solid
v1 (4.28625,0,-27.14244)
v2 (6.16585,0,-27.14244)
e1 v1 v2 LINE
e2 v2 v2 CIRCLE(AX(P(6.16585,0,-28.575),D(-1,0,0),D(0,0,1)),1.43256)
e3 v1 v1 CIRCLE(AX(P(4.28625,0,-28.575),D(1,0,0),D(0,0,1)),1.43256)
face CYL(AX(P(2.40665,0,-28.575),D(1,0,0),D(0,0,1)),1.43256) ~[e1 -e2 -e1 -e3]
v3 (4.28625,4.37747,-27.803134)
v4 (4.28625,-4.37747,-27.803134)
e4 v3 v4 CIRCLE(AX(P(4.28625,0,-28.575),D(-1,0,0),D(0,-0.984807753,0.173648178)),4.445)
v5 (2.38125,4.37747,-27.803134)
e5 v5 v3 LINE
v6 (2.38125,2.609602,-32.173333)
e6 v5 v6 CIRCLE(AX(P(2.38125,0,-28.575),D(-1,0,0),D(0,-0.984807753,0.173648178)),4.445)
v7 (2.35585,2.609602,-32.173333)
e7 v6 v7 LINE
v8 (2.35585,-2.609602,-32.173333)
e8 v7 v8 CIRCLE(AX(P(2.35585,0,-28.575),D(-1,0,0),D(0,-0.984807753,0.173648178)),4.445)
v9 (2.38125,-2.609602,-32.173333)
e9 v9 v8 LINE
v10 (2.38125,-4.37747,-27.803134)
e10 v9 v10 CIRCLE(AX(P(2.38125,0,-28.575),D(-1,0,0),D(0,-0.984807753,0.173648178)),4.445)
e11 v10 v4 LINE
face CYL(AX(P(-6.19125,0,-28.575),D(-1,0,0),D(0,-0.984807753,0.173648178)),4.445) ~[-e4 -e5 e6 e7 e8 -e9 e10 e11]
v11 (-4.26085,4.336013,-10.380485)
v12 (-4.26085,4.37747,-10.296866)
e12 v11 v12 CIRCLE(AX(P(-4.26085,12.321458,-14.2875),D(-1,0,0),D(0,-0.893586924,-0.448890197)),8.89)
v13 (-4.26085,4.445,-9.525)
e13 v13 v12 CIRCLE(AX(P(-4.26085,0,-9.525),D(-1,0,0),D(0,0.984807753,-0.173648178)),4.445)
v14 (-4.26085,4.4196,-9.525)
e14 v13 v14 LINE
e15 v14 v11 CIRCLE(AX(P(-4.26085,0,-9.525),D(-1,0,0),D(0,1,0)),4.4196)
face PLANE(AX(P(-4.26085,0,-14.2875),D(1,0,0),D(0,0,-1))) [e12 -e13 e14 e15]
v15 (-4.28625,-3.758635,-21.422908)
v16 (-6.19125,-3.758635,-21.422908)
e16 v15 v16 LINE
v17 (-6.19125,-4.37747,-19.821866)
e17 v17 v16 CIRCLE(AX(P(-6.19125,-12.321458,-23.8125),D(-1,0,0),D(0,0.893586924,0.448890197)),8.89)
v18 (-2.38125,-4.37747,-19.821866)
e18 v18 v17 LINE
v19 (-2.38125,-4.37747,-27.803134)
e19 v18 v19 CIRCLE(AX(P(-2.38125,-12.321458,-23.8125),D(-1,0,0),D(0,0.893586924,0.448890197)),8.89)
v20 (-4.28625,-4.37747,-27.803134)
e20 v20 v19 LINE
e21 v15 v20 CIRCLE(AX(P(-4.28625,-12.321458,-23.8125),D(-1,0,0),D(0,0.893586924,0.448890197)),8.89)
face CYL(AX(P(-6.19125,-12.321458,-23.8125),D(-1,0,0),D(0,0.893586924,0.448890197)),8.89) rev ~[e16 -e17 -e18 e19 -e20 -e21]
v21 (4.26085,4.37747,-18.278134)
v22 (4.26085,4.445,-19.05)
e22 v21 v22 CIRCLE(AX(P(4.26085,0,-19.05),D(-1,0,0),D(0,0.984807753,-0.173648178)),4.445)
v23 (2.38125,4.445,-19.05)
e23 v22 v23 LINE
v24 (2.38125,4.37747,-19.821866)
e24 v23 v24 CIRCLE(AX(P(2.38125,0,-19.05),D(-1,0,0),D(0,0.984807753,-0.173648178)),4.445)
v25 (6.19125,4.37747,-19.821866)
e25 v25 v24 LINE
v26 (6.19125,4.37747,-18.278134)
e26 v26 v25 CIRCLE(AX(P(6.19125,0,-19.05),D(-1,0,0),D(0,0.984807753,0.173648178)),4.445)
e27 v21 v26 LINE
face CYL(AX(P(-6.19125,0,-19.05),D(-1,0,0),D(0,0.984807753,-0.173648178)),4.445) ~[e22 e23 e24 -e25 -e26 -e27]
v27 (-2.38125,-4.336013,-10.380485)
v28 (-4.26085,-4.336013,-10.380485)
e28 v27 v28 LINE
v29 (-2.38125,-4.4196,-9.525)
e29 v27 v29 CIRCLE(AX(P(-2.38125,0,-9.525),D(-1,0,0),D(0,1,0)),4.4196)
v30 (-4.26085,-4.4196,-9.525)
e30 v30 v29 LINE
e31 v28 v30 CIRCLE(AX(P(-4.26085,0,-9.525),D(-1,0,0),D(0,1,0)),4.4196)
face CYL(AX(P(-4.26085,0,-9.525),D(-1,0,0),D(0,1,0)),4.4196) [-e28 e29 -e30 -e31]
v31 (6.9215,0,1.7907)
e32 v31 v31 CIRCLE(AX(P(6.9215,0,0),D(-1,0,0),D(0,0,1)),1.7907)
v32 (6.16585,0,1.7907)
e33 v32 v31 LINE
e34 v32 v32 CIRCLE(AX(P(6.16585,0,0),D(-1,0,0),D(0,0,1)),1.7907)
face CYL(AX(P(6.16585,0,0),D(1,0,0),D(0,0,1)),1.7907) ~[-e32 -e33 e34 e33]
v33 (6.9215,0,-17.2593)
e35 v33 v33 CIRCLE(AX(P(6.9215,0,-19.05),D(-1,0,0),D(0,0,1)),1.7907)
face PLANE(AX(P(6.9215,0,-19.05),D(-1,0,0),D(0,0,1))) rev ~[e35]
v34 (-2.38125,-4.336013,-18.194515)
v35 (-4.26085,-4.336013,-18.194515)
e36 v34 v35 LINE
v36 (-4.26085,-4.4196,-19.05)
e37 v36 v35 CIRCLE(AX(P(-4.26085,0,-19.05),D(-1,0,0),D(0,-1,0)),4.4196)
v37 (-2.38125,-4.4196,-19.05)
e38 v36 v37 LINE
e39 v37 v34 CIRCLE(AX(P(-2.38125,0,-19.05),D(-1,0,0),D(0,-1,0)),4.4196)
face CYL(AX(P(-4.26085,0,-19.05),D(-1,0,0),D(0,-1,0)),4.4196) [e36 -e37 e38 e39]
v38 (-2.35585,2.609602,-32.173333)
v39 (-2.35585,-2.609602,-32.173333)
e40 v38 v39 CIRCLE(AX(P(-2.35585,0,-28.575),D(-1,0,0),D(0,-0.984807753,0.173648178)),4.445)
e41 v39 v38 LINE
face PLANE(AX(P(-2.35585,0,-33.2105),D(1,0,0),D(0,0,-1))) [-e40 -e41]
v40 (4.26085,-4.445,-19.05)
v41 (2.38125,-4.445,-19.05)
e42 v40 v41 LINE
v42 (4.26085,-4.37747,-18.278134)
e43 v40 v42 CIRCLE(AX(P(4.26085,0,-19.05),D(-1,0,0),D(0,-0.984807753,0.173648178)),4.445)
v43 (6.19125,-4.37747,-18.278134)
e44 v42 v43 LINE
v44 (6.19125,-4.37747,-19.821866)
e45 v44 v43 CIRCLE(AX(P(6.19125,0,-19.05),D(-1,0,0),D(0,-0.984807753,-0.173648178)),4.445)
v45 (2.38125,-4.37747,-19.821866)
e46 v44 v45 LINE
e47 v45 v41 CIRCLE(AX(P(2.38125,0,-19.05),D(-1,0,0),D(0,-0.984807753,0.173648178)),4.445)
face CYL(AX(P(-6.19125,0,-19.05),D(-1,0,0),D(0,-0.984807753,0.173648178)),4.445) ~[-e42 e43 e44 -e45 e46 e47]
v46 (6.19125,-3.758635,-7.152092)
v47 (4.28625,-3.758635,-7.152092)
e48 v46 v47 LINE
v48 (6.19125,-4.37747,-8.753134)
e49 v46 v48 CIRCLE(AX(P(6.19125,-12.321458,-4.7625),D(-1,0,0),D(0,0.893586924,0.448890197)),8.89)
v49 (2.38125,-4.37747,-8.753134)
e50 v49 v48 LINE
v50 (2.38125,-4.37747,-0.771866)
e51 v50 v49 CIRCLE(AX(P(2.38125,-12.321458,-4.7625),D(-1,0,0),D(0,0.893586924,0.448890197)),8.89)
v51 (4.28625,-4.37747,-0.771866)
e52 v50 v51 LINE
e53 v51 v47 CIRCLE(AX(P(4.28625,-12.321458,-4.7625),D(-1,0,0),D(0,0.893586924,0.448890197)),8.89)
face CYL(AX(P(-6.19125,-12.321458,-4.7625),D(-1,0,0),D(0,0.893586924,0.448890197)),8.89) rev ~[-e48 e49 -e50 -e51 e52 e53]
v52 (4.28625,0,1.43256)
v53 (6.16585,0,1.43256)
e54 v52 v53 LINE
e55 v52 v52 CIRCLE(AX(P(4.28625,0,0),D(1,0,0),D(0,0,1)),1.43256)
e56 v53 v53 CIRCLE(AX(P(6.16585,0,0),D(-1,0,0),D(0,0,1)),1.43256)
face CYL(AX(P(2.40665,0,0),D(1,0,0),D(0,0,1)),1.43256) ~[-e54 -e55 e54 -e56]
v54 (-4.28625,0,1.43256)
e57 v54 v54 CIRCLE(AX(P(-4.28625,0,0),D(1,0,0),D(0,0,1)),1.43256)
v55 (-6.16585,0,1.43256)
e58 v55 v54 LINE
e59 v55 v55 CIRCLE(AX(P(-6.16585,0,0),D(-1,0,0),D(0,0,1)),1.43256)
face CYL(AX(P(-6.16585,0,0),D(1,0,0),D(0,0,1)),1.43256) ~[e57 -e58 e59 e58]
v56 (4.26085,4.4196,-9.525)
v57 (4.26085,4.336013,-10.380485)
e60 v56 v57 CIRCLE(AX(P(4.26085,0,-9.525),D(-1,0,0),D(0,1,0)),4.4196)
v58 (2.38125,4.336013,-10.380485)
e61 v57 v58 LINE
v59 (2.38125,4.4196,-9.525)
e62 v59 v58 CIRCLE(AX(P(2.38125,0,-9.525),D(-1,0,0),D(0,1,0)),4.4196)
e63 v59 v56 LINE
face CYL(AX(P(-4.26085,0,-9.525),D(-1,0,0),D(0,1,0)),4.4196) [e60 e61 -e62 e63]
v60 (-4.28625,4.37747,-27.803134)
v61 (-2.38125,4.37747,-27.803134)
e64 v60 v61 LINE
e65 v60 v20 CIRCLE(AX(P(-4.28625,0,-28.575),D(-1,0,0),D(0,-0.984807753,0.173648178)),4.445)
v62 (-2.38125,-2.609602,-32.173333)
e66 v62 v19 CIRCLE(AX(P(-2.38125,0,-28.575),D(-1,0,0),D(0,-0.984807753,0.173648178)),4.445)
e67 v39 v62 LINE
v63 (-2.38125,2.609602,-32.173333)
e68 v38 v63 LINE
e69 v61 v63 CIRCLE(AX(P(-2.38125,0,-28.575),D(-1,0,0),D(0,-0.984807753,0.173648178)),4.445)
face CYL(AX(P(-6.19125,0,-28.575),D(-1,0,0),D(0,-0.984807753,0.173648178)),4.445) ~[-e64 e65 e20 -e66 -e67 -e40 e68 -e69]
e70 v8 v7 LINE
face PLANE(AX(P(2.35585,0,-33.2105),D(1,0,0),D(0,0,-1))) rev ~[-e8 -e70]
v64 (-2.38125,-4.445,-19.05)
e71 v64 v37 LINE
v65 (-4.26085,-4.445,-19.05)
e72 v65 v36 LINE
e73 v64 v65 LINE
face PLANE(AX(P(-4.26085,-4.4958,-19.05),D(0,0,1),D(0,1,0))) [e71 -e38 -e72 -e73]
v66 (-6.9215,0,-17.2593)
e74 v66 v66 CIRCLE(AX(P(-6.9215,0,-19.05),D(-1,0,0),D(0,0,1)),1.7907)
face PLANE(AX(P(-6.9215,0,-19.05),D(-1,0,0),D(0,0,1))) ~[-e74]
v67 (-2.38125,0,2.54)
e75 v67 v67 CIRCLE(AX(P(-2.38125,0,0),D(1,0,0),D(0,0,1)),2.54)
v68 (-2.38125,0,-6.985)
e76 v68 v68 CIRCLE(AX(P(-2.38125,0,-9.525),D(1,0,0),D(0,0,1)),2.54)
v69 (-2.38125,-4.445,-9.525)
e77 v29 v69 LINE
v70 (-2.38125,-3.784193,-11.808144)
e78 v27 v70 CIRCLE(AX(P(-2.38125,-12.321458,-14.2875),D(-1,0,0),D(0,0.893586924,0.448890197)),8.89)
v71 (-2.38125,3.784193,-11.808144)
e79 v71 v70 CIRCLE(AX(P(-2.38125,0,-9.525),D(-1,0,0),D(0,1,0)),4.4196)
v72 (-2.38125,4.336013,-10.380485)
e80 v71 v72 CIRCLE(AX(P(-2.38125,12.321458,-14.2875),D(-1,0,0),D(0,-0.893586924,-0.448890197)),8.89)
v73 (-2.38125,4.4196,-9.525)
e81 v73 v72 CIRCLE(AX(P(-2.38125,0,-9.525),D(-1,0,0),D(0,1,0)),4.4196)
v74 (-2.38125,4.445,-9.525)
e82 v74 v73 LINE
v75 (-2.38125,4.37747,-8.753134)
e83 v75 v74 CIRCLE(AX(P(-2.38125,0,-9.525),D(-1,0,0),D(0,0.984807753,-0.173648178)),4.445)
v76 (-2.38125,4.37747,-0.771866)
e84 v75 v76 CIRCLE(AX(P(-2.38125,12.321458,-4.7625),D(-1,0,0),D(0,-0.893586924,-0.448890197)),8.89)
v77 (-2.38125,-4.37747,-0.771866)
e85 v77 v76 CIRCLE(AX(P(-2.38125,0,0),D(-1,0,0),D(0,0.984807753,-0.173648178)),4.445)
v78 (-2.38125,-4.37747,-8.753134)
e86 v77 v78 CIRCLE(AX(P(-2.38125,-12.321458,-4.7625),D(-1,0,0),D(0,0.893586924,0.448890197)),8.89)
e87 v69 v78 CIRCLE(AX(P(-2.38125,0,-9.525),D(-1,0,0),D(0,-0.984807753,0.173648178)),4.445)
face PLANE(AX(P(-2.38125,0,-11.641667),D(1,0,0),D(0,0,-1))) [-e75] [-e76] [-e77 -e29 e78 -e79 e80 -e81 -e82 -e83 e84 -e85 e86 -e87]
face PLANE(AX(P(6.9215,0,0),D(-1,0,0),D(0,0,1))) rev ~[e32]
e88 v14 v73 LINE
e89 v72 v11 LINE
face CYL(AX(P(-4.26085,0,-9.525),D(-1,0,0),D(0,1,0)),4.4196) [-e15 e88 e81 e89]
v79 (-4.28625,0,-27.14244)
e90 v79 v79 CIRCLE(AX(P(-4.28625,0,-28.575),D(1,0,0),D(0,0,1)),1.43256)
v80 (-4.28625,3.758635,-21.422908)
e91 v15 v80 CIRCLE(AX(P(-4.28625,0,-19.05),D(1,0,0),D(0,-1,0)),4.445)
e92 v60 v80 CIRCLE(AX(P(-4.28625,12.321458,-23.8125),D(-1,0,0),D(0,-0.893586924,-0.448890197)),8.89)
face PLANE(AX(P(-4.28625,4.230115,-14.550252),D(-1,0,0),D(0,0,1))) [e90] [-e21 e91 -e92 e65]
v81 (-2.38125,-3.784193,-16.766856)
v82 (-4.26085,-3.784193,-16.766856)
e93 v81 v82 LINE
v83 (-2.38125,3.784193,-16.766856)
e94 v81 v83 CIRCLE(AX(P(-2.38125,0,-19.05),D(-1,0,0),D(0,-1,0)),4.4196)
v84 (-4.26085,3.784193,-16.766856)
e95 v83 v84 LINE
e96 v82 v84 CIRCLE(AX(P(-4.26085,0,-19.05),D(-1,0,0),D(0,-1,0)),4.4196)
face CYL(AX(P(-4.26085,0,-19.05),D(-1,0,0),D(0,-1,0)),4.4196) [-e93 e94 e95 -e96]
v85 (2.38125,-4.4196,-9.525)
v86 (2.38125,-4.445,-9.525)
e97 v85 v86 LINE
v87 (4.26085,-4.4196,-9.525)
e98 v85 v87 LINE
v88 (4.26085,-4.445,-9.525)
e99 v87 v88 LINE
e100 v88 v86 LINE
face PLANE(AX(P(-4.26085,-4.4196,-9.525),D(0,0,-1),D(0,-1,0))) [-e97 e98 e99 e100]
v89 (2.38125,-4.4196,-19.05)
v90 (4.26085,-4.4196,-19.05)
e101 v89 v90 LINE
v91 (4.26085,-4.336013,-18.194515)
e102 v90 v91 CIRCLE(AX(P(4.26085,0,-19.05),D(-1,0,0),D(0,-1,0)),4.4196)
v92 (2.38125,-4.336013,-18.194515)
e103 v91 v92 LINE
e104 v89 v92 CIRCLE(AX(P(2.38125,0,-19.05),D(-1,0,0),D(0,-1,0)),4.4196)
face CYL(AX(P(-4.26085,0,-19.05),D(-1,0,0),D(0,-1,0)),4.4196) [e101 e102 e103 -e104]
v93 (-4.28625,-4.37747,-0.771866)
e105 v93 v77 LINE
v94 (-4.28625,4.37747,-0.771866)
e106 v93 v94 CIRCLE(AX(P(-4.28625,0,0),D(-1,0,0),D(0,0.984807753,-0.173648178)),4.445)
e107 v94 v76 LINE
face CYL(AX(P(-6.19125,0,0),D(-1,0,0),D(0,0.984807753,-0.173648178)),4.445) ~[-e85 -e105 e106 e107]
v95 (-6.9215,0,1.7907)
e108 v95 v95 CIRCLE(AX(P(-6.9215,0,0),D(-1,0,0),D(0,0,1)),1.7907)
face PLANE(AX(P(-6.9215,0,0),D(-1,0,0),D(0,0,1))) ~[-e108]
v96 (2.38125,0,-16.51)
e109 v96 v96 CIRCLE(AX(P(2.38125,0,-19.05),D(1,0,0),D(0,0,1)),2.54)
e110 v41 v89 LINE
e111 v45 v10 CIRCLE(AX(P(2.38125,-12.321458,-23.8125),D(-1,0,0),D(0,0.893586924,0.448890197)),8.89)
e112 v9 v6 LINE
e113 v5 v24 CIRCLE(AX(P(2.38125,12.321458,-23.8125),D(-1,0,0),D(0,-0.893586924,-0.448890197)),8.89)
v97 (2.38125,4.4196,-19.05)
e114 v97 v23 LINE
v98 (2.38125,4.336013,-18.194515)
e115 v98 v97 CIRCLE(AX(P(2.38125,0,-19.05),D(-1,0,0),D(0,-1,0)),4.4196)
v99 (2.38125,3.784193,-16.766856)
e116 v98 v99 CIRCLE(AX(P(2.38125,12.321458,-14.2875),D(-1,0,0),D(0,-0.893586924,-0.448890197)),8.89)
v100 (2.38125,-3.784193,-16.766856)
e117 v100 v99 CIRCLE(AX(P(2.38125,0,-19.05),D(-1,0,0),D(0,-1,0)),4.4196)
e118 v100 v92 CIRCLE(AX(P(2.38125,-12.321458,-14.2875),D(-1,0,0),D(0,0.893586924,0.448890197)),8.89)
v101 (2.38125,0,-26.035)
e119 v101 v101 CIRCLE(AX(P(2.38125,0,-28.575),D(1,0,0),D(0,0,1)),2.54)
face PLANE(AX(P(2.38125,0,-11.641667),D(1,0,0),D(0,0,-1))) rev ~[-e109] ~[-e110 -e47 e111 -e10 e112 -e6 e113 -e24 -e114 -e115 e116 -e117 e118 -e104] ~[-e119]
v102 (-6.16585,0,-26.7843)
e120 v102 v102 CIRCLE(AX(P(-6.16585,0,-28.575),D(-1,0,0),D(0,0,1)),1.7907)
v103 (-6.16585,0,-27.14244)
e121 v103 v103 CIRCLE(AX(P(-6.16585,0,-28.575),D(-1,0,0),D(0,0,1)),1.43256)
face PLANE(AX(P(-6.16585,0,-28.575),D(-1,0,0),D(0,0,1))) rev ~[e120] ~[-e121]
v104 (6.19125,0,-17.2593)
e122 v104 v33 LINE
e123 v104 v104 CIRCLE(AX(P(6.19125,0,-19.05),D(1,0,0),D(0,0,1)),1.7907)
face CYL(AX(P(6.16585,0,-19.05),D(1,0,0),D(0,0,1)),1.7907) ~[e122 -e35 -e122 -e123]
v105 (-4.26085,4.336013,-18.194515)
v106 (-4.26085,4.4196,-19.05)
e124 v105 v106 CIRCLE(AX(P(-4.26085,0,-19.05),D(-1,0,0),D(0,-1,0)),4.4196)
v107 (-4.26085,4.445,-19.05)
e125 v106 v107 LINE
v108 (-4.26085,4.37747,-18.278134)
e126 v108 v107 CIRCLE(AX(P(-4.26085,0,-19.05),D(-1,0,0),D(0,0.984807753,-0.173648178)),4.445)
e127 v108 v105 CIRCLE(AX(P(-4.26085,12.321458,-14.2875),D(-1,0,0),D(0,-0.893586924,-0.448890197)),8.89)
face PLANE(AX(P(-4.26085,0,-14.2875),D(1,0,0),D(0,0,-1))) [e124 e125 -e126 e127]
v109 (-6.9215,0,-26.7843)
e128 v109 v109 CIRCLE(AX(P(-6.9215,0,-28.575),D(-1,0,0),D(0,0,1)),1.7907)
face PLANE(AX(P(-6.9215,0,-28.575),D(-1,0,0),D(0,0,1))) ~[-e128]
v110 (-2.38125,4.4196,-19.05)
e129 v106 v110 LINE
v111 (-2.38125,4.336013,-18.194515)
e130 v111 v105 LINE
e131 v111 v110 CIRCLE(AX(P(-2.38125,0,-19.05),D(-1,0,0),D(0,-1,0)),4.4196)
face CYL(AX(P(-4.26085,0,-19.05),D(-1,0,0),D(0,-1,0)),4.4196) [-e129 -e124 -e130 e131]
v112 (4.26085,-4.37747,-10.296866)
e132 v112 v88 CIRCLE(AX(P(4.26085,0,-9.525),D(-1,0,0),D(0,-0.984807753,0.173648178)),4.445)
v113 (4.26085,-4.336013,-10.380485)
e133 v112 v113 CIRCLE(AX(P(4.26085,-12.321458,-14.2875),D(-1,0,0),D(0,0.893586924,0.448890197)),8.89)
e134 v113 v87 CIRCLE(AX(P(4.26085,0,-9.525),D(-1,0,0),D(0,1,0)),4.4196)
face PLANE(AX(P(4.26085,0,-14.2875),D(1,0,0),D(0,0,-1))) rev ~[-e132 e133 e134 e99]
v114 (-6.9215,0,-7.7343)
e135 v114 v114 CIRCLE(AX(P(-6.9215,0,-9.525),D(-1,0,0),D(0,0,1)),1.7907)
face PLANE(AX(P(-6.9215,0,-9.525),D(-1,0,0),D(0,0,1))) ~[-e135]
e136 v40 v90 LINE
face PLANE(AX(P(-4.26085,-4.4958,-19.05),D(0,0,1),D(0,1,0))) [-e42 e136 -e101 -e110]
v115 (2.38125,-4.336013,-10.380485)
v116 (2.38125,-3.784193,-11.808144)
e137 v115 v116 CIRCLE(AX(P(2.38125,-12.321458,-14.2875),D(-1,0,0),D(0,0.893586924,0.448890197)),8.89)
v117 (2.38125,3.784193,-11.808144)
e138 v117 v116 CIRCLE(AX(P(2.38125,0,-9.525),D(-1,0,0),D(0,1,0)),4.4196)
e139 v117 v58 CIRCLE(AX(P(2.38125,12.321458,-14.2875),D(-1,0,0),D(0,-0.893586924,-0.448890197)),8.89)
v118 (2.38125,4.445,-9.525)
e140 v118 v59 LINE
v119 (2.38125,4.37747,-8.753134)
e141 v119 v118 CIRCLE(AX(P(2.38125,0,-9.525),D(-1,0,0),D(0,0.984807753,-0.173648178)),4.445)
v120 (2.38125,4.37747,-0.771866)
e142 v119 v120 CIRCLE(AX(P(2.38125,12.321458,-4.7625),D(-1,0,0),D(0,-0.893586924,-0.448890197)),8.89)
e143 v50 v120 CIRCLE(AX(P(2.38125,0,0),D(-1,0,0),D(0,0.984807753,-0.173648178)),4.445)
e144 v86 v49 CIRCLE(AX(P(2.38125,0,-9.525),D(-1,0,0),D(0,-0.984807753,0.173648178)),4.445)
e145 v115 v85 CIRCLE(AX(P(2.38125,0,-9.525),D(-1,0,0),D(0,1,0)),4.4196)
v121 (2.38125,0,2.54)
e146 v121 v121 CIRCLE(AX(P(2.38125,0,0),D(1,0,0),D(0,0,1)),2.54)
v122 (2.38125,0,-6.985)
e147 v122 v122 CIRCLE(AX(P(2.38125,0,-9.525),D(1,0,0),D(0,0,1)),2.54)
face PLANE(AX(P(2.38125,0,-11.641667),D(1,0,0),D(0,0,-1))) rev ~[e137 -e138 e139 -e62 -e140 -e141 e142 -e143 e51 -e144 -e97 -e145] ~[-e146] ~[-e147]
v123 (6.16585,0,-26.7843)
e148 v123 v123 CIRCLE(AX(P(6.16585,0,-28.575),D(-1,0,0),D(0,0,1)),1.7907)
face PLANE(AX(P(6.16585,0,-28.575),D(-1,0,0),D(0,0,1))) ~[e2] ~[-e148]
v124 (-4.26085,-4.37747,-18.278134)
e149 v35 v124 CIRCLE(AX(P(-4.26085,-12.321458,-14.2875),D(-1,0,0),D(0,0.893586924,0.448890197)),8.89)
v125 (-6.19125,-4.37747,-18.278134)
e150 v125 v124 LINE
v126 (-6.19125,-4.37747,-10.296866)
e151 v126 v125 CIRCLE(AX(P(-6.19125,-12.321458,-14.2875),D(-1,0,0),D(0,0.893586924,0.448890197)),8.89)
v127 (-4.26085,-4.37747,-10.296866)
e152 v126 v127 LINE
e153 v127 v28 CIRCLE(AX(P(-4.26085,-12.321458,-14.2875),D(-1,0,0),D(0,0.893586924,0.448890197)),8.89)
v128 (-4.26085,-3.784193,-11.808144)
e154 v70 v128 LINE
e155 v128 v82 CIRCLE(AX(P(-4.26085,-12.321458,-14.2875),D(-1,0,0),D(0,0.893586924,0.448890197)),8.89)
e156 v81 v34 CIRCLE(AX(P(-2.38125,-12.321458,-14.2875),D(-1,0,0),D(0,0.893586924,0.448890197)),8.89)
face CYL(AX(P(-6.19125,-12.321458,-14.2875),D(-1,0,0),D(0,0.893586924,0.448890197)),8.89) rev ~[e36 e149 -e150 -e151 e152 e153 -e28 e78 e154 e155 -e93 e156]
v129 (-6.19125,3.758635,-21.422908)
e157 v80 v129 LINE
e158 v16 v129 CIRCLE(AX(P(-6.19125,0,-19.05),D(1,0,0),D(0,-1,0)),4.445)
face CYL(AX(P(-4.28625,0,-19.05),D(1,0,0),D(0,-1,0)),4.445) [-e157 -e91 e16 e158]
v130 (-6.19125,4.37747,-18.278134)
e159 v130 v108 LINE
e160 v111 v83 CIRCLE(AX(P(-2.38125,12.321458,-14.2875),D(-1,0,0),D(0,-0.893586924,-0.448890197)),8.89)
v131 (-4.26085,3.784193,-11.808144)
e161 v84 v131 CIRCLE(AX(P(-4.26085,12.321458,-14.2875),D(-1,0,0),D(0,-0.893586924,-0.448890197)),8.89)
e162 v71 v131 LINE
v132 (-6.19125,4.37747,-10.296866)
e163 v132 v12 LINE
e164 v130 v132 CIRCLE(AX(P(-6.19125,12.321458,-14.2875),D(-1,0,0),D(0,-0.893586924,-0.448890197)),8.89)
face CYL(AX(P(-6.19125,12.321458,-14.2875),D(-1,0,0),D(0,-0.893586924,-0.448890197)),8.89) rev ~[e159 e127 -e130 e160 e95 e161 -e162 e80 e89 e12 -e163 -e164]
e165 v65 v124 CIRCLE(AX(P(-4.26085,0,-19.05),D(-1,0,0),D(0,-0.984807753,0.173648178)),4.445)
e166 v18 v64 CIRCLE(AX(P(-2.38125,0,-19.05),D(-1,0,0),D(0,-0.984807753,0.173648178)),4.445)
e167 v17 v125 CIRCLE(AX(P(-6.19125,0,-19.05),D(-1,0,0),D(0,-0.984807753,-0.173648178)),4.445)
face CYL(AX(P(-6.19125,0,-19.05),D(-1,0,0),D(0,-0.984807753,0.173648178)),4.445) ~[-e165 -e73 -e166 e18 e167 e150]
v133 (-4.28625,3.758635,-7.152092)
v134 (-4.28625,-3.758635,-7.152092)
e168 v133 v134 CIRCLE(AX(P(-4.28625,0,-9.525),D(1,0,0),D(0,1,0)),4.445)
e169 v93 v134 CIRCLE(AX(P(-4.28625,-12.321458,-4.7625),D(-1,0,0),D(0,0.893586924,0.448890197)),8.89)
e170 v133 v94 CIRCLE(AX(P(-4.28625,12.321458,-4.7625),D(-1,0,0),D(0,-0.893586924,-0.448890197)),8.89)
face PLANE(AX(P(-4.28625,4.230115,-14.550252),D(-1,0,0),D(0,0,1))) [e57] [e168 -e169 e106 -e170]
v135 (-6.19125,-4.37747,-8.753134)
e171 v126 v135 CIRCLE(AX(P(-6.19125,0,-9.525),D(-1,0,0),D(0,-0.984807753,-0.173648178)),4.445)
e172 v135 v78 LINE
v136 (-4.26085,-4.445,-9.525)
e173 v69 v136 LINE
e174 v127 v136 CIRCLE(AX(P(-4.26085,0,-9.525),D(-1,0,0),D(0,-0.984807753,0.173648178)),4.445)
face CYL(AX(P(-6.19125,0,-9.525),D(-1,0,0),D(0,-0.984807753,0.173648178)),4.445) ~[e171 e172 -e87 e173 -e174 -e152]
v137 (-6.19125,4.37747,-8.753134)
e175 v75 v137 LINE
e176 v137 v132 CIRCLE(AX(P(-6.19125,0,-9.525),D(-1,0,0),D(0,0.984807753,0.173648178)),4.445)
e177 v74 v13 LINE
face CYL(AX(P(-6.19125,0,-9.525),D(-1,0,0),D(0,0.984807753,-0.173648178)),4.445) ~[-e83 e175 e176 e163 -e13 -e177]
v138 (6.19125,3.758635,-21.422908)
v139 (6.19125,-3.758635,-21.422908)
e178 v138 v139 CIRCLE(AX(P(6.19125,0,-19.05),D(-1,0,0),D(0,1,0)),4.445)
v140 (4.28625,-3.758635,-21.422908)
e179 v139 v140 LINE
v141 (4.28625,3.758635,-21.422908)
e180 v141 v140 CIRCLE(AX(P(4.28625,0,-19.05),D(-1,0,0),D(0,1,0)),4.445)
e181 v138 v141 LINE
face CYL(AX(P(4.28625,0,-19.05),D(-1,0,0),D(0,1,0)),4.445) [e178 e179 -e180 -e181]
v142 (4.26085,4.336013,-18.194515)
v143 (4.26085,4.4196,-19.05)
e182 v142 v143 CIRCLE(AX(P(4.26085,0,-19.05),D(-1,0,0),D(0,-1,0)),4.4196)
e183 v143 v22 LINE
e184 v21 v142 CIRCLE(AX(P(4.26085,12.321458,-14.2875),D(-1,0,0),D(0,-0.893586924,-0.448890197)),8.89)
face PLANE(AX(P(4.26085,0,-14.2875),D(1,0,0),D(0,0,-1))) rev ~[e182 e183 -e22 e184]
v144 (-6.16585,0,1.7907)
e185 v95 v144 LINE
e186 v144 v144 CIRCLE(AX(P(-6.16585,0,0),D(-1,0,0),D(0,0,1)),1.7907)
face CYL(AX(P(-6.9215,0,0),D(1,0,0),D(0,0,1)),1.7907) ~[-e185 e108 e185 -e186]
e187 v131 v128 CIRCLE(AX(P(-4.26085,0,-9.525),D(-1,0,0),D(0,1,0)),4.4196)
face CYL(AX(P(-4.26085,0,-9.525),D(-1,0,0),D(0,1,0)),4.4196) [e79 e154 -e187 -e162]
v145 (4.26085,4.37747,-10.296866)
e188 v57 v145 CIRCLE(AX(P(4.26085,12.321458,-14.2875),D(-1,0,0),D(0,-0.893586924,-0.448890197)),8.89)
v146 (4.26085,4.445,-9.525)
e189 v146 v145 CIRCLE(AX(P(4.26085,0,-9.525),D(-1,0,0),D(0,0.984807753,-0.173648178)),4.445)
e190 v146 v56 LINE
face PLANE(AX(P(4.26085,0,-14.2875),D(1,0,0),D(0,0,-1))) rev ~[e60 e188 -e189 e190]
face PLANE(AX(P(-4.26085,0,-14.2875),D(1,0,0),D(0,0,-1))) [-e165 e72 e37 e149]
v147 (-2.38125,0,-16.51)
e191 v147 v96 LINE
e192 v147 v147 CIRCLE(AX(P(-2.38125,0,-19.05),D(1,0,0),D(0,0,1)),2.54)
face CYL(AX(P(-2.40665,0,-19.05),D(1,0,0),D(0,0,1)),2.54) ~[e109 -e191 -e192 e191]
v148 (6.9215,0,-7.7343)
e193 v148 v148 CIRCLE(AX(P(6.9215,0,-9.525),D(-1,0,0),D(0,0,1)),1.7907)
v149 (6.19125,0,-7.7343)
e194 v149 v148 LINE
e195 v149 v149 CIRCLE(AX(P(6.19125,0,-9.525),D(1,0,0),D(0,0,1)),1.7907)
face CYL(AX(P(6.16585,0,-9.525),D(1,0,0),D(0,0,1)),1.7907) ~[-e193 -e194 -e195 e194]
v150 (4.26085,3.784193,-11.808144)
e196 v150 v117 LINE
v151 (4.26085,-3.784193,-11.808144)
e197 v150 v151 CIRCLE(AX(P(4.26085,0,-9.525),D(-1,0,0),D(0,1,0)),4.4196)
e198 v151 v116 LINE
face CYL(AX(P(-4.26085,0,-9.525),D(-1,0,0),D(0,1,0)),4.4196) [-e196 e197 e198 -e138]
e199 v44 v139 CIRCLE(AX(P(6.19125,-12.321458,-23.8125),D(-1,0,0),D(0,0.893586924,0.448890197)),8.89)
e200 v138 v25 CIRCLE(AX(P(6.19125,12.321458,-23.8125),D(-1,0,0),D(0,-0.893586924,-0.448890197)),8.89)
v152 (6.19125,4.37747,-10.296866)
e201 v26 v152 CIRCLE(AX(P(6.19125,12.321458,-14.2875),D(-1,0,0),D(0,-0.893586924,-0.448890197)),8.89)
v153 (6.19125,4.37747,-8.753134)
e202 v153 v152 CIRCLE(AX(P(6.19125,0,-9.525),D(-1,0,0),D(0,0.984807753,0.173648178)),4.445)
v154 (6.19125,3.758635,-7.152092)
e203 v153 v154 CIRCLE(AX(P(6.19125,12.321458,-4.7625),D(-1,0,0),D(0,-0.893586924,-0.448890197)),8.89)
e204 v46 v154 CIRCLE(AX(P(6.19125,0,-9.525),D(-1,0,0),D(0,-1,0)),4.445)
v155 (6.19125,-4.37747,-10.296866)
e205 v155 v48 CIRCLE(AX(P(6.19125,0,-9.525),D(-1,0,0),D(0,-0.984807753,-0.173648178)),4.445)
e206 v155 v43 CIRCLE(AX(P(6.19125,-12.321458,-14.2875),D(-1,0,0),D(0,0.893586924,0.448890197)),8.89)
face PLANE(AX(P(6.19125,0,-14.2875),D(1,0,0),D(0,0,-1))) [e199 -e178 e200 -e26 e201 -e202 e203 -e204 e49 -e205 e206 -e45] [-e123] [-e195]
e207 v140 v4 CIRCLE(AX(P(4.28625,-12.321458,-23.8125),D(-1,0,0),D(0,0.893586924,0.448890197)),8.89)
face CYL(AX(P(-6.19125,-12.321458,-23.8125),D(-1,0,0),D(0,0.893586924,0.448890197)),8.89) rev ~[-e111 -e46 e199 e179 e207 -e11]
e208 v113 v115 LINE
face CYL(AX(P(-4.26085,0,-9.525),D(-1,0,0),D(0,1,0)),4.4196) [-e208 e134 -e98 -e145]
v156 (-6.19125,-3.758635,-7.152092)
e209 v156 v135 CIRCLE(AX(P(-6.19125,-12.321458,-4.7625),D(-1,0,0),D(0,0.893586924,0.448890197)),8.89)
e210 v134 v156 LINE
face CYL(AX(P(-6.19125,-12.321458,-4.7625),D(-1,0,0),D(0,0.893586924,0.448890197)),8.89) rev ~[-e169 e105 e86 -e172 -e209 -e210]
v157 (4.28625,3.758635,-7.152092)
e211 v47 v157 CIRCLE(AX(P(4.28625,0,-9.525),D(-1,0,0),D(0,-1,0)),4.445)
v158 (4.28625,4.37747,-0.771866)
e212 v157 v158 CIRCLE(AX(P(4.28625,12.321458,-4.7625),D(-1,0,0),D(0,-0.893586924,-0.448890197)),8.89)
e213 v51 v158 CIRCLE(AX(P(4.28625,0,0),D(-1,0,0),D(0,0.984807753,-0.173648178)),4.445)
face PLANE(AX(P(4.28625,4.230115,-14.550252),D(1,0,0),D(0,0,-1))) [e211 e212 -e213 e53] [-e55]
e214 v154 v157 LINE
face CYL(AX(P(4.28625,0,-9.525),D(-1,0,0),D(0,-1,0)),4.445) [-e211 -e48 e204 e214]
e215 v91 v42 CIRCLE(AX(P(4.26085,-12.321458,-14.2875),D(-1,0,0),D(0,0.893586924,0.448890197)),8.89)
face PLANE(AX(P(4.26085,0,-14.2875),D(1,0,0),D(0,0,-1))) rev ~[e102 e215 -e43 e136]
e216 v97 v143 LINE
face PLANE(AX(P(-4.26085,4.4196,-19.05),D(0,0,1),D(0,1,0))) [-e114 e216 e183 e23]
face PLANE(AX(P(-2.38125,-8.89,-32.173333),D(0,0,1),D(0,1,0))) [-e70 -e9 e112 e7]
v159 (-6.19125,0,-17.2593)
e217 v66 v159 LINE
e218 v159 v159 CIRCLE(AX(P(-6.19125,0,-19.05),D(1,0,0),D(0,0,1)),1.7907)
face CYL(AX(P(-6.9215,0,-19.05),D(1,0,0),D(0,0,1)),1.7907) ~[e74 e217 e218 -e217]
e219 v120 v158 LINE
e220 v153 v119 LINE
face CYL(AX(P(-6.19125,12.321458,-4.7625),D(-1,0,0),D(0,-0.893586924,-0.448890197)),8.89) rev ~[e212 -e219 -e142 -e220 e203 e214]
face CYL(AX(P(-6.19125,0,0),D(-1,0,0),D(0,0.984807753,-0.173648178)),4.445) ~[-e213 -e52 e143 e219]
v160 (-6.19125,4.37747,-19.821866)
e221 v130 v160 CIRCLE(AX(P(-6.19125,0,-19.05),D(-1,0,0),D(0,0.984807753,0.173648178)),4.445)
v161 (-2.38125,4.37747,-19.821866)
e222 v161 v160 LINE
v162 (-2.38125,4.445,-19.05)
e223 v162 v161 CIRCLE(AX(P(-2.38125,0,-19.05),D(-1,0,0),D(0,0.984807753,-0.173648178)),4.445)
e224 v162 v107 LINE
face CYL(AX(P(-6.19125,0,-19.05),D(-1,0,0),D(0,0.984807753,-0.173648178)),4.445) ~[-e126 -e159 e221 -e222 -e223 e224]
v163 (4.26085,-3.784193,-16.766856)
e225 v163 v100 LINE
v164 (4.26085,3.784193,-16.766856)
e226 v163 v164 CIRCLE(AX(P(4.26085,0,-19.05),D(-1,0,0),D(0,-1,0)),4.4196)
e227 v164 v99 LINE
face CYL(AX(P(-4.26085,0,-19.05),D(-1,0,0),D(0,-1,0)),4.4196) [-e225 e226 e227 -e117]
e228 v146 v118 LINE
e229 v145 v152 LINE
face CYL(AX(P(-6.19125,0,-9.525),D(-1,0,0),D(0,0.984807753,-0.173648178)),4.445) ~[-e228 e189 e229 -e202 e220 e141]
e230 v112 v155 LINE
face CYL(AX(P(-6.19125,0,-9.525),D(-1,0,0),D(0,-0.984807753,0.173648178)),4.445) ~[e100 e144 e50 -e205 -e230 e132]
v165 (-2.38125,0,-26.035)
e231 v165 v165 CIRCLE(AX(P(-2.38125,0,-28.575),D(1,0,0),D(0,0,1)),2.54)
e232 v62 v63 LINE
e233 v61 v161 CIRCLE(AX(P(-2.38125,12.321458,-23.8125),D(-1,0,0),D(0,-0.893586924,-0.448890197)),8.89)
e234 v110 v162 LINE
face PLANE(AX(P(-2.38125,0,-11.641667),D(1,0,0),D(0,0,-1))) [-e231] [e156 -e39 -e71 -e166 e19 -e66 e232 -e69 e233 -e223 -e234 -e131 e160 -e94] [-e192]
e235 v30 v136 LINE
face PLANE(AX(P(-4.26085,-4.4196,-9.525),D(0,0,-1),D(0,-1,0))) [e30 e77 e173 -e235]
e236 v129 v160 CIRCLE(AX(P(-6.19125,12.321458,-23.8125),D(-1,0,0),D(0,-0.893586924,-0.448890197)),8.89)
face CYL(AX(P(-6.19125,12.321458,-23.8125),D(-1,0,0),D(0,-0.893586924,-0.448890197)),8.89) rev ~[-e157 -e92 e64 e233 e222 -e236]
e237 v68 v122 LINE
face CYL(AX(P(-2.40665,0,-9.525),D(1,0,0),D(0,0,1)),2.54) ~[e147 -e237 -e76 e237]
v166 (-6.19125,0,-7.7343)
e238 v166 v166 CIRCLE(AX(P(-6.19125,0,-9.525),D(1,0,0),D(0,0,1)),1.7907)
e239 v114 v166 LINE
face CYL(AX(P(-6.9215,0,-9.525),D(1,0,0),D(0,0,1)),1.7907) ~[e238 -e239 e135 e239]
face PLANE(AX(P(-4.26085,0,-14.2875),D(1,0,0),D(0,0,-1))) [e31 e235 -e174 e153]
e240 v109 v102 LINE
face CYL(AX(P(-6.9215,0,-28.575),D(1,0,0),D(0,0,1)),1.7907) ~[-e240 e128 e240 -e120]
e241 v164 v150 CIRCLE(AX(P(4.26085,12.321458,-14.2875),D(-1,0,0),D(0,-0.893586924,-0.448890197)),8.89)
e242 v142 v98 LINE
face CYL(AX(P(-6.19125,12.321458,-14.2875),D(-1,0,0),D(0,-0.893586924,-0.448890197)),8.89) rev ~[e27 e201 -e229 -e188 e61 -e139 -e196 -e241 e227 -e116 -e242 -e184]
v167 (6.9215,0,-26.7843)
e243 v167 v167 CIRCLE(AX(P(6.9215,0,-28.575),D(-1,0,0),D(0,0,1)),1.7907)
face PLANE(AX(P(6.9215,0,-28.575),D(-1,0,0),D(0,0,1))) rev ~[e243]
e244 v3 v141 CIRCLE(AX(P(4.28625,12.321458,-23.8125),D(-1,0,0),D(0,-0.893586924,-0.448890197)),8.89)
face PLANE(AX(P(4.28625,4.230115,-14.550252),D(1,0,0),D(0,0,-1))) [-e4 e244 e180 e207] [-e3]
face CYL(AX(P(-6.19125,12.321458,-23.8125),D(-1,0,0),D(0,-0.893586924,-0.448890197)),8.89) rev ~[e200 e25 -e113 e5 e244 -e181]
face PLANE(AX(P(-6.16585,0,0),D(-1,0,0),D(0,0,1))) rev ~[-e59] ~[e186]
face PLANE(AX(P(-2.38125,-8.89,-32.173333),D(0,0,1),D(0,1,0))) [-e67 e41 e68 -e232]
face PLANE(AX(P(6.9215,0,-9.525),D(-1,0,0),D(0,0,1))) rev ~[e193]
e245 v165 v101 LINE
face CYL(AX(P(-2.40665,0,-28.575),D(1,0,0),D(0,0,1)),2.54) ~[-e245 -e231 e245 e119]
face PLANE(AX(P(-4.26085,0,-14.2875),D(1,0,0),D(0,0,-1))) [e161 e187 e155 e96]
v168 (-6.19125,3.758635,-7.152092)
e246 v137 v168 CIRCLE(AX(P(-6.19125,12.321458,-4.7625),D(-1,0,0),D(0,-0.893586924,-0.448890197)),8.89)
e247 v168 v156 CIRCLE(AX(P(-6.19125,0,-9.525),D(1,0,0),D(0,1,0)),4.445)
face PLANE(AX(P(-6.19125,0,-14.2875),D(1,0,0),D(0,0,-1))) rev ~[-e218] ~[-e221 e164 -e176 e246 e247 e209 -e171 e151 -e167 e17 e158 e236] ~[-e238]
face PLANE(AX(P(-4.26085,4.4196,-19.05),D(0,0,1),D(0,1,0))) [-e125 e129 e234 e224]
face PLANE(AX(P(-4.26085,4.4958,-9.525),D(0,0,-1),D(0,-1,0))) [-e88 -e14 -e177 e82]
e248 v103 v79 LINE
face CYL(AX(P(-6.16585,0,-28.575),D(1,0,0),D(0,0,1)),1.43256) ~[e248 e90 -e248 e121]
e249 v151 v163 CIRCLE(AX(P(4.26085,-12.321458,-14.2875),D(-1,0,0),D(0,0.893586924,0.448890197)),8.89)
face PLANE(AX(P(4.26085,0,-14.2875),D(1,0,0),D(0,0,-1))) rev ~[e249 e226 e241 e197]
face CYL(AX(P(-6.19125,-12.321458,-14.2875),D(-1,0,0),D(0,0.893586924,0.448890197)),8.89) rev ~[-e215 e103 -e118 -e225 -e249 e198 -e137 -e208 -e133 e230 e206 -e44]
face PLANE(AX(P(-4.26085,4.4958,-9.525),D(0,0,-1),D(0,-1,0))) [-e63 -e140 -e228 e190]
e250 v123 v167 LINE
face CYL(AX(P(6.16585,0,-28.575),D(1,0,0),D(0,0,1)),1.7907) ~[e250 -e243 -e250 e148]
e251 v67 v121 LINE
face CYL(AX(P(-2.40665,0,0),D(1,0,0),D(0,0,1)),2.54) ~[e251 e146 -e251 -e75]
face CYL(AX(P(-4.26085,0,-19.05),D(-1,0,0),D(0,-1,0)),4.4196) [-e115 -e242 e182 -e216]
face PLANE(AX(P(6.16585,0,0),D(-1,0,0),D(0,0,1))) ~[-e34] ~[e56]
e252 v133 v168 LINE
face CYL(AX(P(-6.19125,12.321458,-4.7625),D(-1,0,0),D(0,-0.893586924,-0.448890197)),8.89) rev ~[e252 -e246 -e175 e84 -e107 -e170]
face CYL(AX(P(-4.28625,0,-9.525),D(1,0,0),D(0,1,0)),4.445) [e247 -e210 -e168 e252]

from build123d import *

# Parameters (mm, degrees)
BOSS_EXTRUDE1_DEPTH      = 6.19125
BOSS_EXTRUDE1_DEPTH_BACK = 6.19125
CUT_EXTRUDE1_DEPTH       = 1.905
CUT_EXTRUDE1_DEPTH_BACK  = 1.905
CUT_EXTRUDE2_DEPTH       = 1.905
CUT_EXTRUDE2_DEPTH_BACK  = 1.905
CUT_EXTRUDE3_DEPTH       = 4.26085
CUT_EXTRUDE3_DEPTH_BACK  = 4.26085
CUT_EXTRUDE4_DEPTH       = 2.38125
CUT_EXTRUDE4_DEPTH_BACK  = 2.38125
SKETCH5_W                = 41.063333333
SKETCH5_H                = 17.78
CUT_EXTRUDE5_DEPTH       = 2.35585
CUT_EXTRUDE5_DEPTH_BACK  = 2.35585
SKETCH7_W                = 28.575
SKETCH7_H                = 17.78


with BuildPart() as part:
    # Sketch1 → Boss-Extrude1 (new, two sides: drawn at the far end of the back side and taken through both)
    with BuildSketch(Plane(origin=(0, 0, 0), x_dir=(0, 0, -1), z_dir=(1, 0, 0)).offset(-BOSS_EXTRUDE1_DEPTH_BACK)):
        with BuildLine():
            ThreePointArc((0.77186615, 4.377470462), (-4.445, 0), (0.77186615, -4.377470462))
            ThreePointArc((0.77186615, -4.377470462), (4.7625, -3.431458218), (8.75313385, -4.377470462))
            ThreePointArc((8.75313385, -4.377470462), (9.525, -4.445), (10.29686615, -4.377470462))
            ThreePointArc((10.29686615, -4.377470462), (14.2875, -3.431458218), (18.27813385, -4.377470462))
            ThreePointArc((18.27813385, -4.377470462), (19.05, -4.445), (19.82186615, -4.377470462))
            ThreePointArc((19.82186615, -4.377470462), (23.8125, -3.431458218), (27.80313385, -4.377470462))
            ThreePointArc((27.80313385, -4.377470462), (33.02, 0), (27.80313385, 4.377470462))
            ThreePointArc((27.80313385, 4.377470462), (23.8125, 3.431458218), (19.82186615, 4.377470462))
            ThreePointArc((19.82186615, 4.377470462), (19.05, 4.445), (18.27813385, 4.377470462))
            ThreePointArc((18.27813385, 4.377470462), (14.2875, 3.431458218), (10.29686615, 4.377470462))
            ThreePointArc((10.29686615, 4.377470462), (9.525, 4.445), (8.75313385, 4.377470462))
            ThreePointArc((8.75313385, 4.377470462), (4.7625, 3.431458218), (0.77186615, 4.377470462))
        make_face()
    extrude(amount=BOSS_EXTRUDE1_DEPTH + BOSS_EXTRUDE1_DEPTH_BACK)

    # Sketch2 → Cut-Extrude1 (cut, two sides: drawn at the far end of the back side and taken through both)
    with BuildSketch(Plane(origin=(6.19125, 0, 0), x_dir=(0, 0, -1), z_dir=(1, 0, 0)).offset(-CUT_EXTRUDE1_DEPTH_BACK)):
        with BuildLine():
            Line((-8.89, -4.5466), (9.525, -4.5466))
            Line((9.525, -4.5466), (9.525, -4.445))
            ThreePointArc((9.525, -4.445), (5.08, 0), (9.525, 4.445))
            Line((9.525, 4.445), (9.525, 4.5466))
            Line((9.525, 4.5466), (19.05, 4.5466))
            Line((19.05, 4.5466), (19.05, 4.445))
            ThreePointArc((19.05, 4.445), (23.495, 0), (19.05, -4.445))
            Line((19.05, -4.445), (19.05, -4.5466))
            Line((19.05, -4.5466), (38.1, -4.5466))
            Line((38.1, -4.5466), (38.1, 13.4366))
            Line((38.1, 13.4366), (-8.89, 13.4366))
            Line((-8.89, 13.4366), (-8.89, -4.5466))
        make_face()
    extrude(amount=CUT_EXTRUDE1_DEPTH + CUT_EXTRUDE1_DEPTH_BACK, mode=Mode.SUBTRACT)

    # Sketch3 → Cut-Extrude2 (cut, two sides: drawn at the far end of the back side and taken through both)
    with BuildSketch(Plane.ZY.offset(6.19125).offset(-CUT_EXTRUDE2_DEPTH_BACK)):
        with BuildLine():
            Line((-38.1, -4.5466), (-19.05, -4.5466))
            Line((-19.05, -4.5466), (-19.05, -4.445))
            ThreePointArc((-19.05, -4.445), (-23.495, 0), (-19.05, 4.445))
            Line((-19.05, 4.445), (-19.05, 4.5466))
            Line((-19.05, 4.5466), (-9.525, 4.5466))
            Line((-9.525, 4.5466), (-9.525, 4.445))
            ThreePointArc((-9.525, 4.445), (-5.08, 0), (-9.525, -4.445))
            Line((-9.525, -4.445), (-9.525, -4.5466))
            Line((-9.525, -4.5466), (8.89, -4.5466))
            Line((8.89, -4.5466), (8.89, 13.4366))
            Line((8.89, 13.4366), (-38.1, 13.4366))
            Line((-38.1, 13.4366), (-38.1, -4.5466))
        make_face()
    extrude(amount=CUT_EXTRUDE2_DEPTH + CUT_EXTRUDE2_DEPTH_BACK, mode=Mode.SUBTRACT)

    # Sketch4 → Cut-Extrude3 (cut, two sides: drawn at the far end of the back side and taken through both)
    with BuildSketch(Plane(origin=(0, 0, 0), x_dir=(0, 0, -1), z_dir=(1, 0, 0)).offset(-CUT_EXTRUDE3_DEPTH_BACK)):
        with BuildLine():
            Line((9.525, -4.4958), (19.05, -4.4958))
            Line((19.05, -4.4958), (19.05, -4.4196))
            ThreePointArc((19.05, -4.4196), (14.6304, 0), (19.05, 4.4196))
            Line((19.05, 4.4196), (19.05, 4.4958))
            Line((19.05, 4.4958), (9.525, 4.4958))
            Line((9.525, 4.4958), (9.525, 4.4196))
            ThreePointArc((9.525, 4.4196), (13.9446, 0), (9.525, -4.4196))
            Line((9.525, -4.4196), (9.525, -4.4958))
        make_face()
    extrude(amount=CUT_EXTRUDE3_DEPTH + CUT_EXTRUDE3_DEPTH_BACK, mode=Mode.SUBTRACT)

    # Sketch5 → Cut-Extrude4 (cut, two sides: drawn at the far end of the back side and taken through both)
    with BuildSketch(Plane(origin=(0, 0, 0), x_dir=(0, 0, -1), z_dir=(1, 0, 0)).offset(-CUT_EXTRUDE4_DEPTH_BACK)):
        with Locations((11.641666667, 0)):
            Rectangle(SKETCH5_W, SKETCH5_H)
    extrude(amount=CUT_EXTRUDE4_DEPTH + CUT_EXTRUDE4_DEPTH_BACK, mode=Mode.SUBTRACT)

    # Sketch6 → Revolve1 (revolve)
    with BuildSketch(Plane(origin=(0, 0, 0), x_dir=(1, 0, 0), z_dir=(0, 1, 0))):
        Polygon((-6.9215, 0), (-6.9215, 1.7907), (-6.16585, 1.7907), (-6.16585, 1.43256), (-2.40665, 1.43256), (-2.40665, 2.54), (2.40665, 2.54), (2.40665, 1.43256), (6.16585, 1.43256), (6.16585, 1.7907), (6.9215, 1.7907), (6.9215, 0), align=None)
    revolve(axis=Axis((6.9215, 0, 0), (-1, 0, 0)))

    # Sketch7 → Cut-Extrude5 (cut, two sides: drawn at the far end of the back side and taken through both)
    with BuildSketch(Plane(origin=(0, 0, 0), x_dir=(0, 0, -1), z_dir=(1, 0, 0)).offset(-CUT_EXTRUDE5_DEPTH_BACK)):
        with Locations((33.2105, 0)):
            Rectangle(SKETCH7_W, SKETCH7_H)
    extrude(amount=CUT_EXTRUDE5_DEPTH + CUT_EXTRUDE5_DEPTH_BACK, mode=Mode.SUBTRACT)

    # Sketch8 → Revolve2 (revolve)
    with BuildSketch(Plane(origin=(0, 0, 0), x_dir=(1, 0, 0), z_dir=(0, 1, 0))):
        Polygon((-6.9215, 28.575), (-6.9215, 30.3657), (-6.16585, 30.3657), (-6.16585, 30.00756), (-2.40665, 30.00756), (-2.40665, 31.115), (2.40665, 31.115), (2.40665, 30.00756), (6.16585, 30.00756), (6.16585, 30.3657), (6.9215, 30.3657), (6.9215, 28.575), align=None)
    revolve(axis=Axis((6.9215, 0, -28.575), (-1, 0, 0)))

    # Sketch9 → Revolve3 (revolve)
    with BuildSketch(Plane(origin=(0, 0, 0), x_dir=(1, 0, 0), z_dir=(0, 1, 0))):
        Polygon((-6.9215, 19.05), (-6.9215, 20.8407), (-6.16585, 20.8407), (-6.16585, 20.48256), (-2.40665, 20.48256), (-2.40665, 21.59), (2.40665, 21.59), (2.40665, 20.48256), (6.16585, 20.48256), (6.16585, 20.8407), (6.9215, 20.8407), (6.9215, 19.05), align=None)
    revolve(axis=Axis((6.9215, 0, -19.05), (-1, 0, 0)))

    # Sketch10 → Revolve4 (revolve)
    with BuildSketch(Plane(origin=(0, 0, 0), x_dir=(1, 0, 0), z_dir=(0, 1, 0))):
        Polygon((-6.9215, 9.525), (-6.9215, 11.3157), (-6.16585, 11.3157), (-6.16585, 10.95756), (-2.40665, 10.95756), (-2.40665, 12.065), (2.40665, 12.065), (2.40665, 10.95756), (6.16585, 10.95756), (6.16585, 11.3157), (6.9215, 11.3157), (6.9215, 9.525), align=None)
    revolve(axis=Axis((6.9215, 0, -9.525), (-1, 0, 0)))


solid = part.part
